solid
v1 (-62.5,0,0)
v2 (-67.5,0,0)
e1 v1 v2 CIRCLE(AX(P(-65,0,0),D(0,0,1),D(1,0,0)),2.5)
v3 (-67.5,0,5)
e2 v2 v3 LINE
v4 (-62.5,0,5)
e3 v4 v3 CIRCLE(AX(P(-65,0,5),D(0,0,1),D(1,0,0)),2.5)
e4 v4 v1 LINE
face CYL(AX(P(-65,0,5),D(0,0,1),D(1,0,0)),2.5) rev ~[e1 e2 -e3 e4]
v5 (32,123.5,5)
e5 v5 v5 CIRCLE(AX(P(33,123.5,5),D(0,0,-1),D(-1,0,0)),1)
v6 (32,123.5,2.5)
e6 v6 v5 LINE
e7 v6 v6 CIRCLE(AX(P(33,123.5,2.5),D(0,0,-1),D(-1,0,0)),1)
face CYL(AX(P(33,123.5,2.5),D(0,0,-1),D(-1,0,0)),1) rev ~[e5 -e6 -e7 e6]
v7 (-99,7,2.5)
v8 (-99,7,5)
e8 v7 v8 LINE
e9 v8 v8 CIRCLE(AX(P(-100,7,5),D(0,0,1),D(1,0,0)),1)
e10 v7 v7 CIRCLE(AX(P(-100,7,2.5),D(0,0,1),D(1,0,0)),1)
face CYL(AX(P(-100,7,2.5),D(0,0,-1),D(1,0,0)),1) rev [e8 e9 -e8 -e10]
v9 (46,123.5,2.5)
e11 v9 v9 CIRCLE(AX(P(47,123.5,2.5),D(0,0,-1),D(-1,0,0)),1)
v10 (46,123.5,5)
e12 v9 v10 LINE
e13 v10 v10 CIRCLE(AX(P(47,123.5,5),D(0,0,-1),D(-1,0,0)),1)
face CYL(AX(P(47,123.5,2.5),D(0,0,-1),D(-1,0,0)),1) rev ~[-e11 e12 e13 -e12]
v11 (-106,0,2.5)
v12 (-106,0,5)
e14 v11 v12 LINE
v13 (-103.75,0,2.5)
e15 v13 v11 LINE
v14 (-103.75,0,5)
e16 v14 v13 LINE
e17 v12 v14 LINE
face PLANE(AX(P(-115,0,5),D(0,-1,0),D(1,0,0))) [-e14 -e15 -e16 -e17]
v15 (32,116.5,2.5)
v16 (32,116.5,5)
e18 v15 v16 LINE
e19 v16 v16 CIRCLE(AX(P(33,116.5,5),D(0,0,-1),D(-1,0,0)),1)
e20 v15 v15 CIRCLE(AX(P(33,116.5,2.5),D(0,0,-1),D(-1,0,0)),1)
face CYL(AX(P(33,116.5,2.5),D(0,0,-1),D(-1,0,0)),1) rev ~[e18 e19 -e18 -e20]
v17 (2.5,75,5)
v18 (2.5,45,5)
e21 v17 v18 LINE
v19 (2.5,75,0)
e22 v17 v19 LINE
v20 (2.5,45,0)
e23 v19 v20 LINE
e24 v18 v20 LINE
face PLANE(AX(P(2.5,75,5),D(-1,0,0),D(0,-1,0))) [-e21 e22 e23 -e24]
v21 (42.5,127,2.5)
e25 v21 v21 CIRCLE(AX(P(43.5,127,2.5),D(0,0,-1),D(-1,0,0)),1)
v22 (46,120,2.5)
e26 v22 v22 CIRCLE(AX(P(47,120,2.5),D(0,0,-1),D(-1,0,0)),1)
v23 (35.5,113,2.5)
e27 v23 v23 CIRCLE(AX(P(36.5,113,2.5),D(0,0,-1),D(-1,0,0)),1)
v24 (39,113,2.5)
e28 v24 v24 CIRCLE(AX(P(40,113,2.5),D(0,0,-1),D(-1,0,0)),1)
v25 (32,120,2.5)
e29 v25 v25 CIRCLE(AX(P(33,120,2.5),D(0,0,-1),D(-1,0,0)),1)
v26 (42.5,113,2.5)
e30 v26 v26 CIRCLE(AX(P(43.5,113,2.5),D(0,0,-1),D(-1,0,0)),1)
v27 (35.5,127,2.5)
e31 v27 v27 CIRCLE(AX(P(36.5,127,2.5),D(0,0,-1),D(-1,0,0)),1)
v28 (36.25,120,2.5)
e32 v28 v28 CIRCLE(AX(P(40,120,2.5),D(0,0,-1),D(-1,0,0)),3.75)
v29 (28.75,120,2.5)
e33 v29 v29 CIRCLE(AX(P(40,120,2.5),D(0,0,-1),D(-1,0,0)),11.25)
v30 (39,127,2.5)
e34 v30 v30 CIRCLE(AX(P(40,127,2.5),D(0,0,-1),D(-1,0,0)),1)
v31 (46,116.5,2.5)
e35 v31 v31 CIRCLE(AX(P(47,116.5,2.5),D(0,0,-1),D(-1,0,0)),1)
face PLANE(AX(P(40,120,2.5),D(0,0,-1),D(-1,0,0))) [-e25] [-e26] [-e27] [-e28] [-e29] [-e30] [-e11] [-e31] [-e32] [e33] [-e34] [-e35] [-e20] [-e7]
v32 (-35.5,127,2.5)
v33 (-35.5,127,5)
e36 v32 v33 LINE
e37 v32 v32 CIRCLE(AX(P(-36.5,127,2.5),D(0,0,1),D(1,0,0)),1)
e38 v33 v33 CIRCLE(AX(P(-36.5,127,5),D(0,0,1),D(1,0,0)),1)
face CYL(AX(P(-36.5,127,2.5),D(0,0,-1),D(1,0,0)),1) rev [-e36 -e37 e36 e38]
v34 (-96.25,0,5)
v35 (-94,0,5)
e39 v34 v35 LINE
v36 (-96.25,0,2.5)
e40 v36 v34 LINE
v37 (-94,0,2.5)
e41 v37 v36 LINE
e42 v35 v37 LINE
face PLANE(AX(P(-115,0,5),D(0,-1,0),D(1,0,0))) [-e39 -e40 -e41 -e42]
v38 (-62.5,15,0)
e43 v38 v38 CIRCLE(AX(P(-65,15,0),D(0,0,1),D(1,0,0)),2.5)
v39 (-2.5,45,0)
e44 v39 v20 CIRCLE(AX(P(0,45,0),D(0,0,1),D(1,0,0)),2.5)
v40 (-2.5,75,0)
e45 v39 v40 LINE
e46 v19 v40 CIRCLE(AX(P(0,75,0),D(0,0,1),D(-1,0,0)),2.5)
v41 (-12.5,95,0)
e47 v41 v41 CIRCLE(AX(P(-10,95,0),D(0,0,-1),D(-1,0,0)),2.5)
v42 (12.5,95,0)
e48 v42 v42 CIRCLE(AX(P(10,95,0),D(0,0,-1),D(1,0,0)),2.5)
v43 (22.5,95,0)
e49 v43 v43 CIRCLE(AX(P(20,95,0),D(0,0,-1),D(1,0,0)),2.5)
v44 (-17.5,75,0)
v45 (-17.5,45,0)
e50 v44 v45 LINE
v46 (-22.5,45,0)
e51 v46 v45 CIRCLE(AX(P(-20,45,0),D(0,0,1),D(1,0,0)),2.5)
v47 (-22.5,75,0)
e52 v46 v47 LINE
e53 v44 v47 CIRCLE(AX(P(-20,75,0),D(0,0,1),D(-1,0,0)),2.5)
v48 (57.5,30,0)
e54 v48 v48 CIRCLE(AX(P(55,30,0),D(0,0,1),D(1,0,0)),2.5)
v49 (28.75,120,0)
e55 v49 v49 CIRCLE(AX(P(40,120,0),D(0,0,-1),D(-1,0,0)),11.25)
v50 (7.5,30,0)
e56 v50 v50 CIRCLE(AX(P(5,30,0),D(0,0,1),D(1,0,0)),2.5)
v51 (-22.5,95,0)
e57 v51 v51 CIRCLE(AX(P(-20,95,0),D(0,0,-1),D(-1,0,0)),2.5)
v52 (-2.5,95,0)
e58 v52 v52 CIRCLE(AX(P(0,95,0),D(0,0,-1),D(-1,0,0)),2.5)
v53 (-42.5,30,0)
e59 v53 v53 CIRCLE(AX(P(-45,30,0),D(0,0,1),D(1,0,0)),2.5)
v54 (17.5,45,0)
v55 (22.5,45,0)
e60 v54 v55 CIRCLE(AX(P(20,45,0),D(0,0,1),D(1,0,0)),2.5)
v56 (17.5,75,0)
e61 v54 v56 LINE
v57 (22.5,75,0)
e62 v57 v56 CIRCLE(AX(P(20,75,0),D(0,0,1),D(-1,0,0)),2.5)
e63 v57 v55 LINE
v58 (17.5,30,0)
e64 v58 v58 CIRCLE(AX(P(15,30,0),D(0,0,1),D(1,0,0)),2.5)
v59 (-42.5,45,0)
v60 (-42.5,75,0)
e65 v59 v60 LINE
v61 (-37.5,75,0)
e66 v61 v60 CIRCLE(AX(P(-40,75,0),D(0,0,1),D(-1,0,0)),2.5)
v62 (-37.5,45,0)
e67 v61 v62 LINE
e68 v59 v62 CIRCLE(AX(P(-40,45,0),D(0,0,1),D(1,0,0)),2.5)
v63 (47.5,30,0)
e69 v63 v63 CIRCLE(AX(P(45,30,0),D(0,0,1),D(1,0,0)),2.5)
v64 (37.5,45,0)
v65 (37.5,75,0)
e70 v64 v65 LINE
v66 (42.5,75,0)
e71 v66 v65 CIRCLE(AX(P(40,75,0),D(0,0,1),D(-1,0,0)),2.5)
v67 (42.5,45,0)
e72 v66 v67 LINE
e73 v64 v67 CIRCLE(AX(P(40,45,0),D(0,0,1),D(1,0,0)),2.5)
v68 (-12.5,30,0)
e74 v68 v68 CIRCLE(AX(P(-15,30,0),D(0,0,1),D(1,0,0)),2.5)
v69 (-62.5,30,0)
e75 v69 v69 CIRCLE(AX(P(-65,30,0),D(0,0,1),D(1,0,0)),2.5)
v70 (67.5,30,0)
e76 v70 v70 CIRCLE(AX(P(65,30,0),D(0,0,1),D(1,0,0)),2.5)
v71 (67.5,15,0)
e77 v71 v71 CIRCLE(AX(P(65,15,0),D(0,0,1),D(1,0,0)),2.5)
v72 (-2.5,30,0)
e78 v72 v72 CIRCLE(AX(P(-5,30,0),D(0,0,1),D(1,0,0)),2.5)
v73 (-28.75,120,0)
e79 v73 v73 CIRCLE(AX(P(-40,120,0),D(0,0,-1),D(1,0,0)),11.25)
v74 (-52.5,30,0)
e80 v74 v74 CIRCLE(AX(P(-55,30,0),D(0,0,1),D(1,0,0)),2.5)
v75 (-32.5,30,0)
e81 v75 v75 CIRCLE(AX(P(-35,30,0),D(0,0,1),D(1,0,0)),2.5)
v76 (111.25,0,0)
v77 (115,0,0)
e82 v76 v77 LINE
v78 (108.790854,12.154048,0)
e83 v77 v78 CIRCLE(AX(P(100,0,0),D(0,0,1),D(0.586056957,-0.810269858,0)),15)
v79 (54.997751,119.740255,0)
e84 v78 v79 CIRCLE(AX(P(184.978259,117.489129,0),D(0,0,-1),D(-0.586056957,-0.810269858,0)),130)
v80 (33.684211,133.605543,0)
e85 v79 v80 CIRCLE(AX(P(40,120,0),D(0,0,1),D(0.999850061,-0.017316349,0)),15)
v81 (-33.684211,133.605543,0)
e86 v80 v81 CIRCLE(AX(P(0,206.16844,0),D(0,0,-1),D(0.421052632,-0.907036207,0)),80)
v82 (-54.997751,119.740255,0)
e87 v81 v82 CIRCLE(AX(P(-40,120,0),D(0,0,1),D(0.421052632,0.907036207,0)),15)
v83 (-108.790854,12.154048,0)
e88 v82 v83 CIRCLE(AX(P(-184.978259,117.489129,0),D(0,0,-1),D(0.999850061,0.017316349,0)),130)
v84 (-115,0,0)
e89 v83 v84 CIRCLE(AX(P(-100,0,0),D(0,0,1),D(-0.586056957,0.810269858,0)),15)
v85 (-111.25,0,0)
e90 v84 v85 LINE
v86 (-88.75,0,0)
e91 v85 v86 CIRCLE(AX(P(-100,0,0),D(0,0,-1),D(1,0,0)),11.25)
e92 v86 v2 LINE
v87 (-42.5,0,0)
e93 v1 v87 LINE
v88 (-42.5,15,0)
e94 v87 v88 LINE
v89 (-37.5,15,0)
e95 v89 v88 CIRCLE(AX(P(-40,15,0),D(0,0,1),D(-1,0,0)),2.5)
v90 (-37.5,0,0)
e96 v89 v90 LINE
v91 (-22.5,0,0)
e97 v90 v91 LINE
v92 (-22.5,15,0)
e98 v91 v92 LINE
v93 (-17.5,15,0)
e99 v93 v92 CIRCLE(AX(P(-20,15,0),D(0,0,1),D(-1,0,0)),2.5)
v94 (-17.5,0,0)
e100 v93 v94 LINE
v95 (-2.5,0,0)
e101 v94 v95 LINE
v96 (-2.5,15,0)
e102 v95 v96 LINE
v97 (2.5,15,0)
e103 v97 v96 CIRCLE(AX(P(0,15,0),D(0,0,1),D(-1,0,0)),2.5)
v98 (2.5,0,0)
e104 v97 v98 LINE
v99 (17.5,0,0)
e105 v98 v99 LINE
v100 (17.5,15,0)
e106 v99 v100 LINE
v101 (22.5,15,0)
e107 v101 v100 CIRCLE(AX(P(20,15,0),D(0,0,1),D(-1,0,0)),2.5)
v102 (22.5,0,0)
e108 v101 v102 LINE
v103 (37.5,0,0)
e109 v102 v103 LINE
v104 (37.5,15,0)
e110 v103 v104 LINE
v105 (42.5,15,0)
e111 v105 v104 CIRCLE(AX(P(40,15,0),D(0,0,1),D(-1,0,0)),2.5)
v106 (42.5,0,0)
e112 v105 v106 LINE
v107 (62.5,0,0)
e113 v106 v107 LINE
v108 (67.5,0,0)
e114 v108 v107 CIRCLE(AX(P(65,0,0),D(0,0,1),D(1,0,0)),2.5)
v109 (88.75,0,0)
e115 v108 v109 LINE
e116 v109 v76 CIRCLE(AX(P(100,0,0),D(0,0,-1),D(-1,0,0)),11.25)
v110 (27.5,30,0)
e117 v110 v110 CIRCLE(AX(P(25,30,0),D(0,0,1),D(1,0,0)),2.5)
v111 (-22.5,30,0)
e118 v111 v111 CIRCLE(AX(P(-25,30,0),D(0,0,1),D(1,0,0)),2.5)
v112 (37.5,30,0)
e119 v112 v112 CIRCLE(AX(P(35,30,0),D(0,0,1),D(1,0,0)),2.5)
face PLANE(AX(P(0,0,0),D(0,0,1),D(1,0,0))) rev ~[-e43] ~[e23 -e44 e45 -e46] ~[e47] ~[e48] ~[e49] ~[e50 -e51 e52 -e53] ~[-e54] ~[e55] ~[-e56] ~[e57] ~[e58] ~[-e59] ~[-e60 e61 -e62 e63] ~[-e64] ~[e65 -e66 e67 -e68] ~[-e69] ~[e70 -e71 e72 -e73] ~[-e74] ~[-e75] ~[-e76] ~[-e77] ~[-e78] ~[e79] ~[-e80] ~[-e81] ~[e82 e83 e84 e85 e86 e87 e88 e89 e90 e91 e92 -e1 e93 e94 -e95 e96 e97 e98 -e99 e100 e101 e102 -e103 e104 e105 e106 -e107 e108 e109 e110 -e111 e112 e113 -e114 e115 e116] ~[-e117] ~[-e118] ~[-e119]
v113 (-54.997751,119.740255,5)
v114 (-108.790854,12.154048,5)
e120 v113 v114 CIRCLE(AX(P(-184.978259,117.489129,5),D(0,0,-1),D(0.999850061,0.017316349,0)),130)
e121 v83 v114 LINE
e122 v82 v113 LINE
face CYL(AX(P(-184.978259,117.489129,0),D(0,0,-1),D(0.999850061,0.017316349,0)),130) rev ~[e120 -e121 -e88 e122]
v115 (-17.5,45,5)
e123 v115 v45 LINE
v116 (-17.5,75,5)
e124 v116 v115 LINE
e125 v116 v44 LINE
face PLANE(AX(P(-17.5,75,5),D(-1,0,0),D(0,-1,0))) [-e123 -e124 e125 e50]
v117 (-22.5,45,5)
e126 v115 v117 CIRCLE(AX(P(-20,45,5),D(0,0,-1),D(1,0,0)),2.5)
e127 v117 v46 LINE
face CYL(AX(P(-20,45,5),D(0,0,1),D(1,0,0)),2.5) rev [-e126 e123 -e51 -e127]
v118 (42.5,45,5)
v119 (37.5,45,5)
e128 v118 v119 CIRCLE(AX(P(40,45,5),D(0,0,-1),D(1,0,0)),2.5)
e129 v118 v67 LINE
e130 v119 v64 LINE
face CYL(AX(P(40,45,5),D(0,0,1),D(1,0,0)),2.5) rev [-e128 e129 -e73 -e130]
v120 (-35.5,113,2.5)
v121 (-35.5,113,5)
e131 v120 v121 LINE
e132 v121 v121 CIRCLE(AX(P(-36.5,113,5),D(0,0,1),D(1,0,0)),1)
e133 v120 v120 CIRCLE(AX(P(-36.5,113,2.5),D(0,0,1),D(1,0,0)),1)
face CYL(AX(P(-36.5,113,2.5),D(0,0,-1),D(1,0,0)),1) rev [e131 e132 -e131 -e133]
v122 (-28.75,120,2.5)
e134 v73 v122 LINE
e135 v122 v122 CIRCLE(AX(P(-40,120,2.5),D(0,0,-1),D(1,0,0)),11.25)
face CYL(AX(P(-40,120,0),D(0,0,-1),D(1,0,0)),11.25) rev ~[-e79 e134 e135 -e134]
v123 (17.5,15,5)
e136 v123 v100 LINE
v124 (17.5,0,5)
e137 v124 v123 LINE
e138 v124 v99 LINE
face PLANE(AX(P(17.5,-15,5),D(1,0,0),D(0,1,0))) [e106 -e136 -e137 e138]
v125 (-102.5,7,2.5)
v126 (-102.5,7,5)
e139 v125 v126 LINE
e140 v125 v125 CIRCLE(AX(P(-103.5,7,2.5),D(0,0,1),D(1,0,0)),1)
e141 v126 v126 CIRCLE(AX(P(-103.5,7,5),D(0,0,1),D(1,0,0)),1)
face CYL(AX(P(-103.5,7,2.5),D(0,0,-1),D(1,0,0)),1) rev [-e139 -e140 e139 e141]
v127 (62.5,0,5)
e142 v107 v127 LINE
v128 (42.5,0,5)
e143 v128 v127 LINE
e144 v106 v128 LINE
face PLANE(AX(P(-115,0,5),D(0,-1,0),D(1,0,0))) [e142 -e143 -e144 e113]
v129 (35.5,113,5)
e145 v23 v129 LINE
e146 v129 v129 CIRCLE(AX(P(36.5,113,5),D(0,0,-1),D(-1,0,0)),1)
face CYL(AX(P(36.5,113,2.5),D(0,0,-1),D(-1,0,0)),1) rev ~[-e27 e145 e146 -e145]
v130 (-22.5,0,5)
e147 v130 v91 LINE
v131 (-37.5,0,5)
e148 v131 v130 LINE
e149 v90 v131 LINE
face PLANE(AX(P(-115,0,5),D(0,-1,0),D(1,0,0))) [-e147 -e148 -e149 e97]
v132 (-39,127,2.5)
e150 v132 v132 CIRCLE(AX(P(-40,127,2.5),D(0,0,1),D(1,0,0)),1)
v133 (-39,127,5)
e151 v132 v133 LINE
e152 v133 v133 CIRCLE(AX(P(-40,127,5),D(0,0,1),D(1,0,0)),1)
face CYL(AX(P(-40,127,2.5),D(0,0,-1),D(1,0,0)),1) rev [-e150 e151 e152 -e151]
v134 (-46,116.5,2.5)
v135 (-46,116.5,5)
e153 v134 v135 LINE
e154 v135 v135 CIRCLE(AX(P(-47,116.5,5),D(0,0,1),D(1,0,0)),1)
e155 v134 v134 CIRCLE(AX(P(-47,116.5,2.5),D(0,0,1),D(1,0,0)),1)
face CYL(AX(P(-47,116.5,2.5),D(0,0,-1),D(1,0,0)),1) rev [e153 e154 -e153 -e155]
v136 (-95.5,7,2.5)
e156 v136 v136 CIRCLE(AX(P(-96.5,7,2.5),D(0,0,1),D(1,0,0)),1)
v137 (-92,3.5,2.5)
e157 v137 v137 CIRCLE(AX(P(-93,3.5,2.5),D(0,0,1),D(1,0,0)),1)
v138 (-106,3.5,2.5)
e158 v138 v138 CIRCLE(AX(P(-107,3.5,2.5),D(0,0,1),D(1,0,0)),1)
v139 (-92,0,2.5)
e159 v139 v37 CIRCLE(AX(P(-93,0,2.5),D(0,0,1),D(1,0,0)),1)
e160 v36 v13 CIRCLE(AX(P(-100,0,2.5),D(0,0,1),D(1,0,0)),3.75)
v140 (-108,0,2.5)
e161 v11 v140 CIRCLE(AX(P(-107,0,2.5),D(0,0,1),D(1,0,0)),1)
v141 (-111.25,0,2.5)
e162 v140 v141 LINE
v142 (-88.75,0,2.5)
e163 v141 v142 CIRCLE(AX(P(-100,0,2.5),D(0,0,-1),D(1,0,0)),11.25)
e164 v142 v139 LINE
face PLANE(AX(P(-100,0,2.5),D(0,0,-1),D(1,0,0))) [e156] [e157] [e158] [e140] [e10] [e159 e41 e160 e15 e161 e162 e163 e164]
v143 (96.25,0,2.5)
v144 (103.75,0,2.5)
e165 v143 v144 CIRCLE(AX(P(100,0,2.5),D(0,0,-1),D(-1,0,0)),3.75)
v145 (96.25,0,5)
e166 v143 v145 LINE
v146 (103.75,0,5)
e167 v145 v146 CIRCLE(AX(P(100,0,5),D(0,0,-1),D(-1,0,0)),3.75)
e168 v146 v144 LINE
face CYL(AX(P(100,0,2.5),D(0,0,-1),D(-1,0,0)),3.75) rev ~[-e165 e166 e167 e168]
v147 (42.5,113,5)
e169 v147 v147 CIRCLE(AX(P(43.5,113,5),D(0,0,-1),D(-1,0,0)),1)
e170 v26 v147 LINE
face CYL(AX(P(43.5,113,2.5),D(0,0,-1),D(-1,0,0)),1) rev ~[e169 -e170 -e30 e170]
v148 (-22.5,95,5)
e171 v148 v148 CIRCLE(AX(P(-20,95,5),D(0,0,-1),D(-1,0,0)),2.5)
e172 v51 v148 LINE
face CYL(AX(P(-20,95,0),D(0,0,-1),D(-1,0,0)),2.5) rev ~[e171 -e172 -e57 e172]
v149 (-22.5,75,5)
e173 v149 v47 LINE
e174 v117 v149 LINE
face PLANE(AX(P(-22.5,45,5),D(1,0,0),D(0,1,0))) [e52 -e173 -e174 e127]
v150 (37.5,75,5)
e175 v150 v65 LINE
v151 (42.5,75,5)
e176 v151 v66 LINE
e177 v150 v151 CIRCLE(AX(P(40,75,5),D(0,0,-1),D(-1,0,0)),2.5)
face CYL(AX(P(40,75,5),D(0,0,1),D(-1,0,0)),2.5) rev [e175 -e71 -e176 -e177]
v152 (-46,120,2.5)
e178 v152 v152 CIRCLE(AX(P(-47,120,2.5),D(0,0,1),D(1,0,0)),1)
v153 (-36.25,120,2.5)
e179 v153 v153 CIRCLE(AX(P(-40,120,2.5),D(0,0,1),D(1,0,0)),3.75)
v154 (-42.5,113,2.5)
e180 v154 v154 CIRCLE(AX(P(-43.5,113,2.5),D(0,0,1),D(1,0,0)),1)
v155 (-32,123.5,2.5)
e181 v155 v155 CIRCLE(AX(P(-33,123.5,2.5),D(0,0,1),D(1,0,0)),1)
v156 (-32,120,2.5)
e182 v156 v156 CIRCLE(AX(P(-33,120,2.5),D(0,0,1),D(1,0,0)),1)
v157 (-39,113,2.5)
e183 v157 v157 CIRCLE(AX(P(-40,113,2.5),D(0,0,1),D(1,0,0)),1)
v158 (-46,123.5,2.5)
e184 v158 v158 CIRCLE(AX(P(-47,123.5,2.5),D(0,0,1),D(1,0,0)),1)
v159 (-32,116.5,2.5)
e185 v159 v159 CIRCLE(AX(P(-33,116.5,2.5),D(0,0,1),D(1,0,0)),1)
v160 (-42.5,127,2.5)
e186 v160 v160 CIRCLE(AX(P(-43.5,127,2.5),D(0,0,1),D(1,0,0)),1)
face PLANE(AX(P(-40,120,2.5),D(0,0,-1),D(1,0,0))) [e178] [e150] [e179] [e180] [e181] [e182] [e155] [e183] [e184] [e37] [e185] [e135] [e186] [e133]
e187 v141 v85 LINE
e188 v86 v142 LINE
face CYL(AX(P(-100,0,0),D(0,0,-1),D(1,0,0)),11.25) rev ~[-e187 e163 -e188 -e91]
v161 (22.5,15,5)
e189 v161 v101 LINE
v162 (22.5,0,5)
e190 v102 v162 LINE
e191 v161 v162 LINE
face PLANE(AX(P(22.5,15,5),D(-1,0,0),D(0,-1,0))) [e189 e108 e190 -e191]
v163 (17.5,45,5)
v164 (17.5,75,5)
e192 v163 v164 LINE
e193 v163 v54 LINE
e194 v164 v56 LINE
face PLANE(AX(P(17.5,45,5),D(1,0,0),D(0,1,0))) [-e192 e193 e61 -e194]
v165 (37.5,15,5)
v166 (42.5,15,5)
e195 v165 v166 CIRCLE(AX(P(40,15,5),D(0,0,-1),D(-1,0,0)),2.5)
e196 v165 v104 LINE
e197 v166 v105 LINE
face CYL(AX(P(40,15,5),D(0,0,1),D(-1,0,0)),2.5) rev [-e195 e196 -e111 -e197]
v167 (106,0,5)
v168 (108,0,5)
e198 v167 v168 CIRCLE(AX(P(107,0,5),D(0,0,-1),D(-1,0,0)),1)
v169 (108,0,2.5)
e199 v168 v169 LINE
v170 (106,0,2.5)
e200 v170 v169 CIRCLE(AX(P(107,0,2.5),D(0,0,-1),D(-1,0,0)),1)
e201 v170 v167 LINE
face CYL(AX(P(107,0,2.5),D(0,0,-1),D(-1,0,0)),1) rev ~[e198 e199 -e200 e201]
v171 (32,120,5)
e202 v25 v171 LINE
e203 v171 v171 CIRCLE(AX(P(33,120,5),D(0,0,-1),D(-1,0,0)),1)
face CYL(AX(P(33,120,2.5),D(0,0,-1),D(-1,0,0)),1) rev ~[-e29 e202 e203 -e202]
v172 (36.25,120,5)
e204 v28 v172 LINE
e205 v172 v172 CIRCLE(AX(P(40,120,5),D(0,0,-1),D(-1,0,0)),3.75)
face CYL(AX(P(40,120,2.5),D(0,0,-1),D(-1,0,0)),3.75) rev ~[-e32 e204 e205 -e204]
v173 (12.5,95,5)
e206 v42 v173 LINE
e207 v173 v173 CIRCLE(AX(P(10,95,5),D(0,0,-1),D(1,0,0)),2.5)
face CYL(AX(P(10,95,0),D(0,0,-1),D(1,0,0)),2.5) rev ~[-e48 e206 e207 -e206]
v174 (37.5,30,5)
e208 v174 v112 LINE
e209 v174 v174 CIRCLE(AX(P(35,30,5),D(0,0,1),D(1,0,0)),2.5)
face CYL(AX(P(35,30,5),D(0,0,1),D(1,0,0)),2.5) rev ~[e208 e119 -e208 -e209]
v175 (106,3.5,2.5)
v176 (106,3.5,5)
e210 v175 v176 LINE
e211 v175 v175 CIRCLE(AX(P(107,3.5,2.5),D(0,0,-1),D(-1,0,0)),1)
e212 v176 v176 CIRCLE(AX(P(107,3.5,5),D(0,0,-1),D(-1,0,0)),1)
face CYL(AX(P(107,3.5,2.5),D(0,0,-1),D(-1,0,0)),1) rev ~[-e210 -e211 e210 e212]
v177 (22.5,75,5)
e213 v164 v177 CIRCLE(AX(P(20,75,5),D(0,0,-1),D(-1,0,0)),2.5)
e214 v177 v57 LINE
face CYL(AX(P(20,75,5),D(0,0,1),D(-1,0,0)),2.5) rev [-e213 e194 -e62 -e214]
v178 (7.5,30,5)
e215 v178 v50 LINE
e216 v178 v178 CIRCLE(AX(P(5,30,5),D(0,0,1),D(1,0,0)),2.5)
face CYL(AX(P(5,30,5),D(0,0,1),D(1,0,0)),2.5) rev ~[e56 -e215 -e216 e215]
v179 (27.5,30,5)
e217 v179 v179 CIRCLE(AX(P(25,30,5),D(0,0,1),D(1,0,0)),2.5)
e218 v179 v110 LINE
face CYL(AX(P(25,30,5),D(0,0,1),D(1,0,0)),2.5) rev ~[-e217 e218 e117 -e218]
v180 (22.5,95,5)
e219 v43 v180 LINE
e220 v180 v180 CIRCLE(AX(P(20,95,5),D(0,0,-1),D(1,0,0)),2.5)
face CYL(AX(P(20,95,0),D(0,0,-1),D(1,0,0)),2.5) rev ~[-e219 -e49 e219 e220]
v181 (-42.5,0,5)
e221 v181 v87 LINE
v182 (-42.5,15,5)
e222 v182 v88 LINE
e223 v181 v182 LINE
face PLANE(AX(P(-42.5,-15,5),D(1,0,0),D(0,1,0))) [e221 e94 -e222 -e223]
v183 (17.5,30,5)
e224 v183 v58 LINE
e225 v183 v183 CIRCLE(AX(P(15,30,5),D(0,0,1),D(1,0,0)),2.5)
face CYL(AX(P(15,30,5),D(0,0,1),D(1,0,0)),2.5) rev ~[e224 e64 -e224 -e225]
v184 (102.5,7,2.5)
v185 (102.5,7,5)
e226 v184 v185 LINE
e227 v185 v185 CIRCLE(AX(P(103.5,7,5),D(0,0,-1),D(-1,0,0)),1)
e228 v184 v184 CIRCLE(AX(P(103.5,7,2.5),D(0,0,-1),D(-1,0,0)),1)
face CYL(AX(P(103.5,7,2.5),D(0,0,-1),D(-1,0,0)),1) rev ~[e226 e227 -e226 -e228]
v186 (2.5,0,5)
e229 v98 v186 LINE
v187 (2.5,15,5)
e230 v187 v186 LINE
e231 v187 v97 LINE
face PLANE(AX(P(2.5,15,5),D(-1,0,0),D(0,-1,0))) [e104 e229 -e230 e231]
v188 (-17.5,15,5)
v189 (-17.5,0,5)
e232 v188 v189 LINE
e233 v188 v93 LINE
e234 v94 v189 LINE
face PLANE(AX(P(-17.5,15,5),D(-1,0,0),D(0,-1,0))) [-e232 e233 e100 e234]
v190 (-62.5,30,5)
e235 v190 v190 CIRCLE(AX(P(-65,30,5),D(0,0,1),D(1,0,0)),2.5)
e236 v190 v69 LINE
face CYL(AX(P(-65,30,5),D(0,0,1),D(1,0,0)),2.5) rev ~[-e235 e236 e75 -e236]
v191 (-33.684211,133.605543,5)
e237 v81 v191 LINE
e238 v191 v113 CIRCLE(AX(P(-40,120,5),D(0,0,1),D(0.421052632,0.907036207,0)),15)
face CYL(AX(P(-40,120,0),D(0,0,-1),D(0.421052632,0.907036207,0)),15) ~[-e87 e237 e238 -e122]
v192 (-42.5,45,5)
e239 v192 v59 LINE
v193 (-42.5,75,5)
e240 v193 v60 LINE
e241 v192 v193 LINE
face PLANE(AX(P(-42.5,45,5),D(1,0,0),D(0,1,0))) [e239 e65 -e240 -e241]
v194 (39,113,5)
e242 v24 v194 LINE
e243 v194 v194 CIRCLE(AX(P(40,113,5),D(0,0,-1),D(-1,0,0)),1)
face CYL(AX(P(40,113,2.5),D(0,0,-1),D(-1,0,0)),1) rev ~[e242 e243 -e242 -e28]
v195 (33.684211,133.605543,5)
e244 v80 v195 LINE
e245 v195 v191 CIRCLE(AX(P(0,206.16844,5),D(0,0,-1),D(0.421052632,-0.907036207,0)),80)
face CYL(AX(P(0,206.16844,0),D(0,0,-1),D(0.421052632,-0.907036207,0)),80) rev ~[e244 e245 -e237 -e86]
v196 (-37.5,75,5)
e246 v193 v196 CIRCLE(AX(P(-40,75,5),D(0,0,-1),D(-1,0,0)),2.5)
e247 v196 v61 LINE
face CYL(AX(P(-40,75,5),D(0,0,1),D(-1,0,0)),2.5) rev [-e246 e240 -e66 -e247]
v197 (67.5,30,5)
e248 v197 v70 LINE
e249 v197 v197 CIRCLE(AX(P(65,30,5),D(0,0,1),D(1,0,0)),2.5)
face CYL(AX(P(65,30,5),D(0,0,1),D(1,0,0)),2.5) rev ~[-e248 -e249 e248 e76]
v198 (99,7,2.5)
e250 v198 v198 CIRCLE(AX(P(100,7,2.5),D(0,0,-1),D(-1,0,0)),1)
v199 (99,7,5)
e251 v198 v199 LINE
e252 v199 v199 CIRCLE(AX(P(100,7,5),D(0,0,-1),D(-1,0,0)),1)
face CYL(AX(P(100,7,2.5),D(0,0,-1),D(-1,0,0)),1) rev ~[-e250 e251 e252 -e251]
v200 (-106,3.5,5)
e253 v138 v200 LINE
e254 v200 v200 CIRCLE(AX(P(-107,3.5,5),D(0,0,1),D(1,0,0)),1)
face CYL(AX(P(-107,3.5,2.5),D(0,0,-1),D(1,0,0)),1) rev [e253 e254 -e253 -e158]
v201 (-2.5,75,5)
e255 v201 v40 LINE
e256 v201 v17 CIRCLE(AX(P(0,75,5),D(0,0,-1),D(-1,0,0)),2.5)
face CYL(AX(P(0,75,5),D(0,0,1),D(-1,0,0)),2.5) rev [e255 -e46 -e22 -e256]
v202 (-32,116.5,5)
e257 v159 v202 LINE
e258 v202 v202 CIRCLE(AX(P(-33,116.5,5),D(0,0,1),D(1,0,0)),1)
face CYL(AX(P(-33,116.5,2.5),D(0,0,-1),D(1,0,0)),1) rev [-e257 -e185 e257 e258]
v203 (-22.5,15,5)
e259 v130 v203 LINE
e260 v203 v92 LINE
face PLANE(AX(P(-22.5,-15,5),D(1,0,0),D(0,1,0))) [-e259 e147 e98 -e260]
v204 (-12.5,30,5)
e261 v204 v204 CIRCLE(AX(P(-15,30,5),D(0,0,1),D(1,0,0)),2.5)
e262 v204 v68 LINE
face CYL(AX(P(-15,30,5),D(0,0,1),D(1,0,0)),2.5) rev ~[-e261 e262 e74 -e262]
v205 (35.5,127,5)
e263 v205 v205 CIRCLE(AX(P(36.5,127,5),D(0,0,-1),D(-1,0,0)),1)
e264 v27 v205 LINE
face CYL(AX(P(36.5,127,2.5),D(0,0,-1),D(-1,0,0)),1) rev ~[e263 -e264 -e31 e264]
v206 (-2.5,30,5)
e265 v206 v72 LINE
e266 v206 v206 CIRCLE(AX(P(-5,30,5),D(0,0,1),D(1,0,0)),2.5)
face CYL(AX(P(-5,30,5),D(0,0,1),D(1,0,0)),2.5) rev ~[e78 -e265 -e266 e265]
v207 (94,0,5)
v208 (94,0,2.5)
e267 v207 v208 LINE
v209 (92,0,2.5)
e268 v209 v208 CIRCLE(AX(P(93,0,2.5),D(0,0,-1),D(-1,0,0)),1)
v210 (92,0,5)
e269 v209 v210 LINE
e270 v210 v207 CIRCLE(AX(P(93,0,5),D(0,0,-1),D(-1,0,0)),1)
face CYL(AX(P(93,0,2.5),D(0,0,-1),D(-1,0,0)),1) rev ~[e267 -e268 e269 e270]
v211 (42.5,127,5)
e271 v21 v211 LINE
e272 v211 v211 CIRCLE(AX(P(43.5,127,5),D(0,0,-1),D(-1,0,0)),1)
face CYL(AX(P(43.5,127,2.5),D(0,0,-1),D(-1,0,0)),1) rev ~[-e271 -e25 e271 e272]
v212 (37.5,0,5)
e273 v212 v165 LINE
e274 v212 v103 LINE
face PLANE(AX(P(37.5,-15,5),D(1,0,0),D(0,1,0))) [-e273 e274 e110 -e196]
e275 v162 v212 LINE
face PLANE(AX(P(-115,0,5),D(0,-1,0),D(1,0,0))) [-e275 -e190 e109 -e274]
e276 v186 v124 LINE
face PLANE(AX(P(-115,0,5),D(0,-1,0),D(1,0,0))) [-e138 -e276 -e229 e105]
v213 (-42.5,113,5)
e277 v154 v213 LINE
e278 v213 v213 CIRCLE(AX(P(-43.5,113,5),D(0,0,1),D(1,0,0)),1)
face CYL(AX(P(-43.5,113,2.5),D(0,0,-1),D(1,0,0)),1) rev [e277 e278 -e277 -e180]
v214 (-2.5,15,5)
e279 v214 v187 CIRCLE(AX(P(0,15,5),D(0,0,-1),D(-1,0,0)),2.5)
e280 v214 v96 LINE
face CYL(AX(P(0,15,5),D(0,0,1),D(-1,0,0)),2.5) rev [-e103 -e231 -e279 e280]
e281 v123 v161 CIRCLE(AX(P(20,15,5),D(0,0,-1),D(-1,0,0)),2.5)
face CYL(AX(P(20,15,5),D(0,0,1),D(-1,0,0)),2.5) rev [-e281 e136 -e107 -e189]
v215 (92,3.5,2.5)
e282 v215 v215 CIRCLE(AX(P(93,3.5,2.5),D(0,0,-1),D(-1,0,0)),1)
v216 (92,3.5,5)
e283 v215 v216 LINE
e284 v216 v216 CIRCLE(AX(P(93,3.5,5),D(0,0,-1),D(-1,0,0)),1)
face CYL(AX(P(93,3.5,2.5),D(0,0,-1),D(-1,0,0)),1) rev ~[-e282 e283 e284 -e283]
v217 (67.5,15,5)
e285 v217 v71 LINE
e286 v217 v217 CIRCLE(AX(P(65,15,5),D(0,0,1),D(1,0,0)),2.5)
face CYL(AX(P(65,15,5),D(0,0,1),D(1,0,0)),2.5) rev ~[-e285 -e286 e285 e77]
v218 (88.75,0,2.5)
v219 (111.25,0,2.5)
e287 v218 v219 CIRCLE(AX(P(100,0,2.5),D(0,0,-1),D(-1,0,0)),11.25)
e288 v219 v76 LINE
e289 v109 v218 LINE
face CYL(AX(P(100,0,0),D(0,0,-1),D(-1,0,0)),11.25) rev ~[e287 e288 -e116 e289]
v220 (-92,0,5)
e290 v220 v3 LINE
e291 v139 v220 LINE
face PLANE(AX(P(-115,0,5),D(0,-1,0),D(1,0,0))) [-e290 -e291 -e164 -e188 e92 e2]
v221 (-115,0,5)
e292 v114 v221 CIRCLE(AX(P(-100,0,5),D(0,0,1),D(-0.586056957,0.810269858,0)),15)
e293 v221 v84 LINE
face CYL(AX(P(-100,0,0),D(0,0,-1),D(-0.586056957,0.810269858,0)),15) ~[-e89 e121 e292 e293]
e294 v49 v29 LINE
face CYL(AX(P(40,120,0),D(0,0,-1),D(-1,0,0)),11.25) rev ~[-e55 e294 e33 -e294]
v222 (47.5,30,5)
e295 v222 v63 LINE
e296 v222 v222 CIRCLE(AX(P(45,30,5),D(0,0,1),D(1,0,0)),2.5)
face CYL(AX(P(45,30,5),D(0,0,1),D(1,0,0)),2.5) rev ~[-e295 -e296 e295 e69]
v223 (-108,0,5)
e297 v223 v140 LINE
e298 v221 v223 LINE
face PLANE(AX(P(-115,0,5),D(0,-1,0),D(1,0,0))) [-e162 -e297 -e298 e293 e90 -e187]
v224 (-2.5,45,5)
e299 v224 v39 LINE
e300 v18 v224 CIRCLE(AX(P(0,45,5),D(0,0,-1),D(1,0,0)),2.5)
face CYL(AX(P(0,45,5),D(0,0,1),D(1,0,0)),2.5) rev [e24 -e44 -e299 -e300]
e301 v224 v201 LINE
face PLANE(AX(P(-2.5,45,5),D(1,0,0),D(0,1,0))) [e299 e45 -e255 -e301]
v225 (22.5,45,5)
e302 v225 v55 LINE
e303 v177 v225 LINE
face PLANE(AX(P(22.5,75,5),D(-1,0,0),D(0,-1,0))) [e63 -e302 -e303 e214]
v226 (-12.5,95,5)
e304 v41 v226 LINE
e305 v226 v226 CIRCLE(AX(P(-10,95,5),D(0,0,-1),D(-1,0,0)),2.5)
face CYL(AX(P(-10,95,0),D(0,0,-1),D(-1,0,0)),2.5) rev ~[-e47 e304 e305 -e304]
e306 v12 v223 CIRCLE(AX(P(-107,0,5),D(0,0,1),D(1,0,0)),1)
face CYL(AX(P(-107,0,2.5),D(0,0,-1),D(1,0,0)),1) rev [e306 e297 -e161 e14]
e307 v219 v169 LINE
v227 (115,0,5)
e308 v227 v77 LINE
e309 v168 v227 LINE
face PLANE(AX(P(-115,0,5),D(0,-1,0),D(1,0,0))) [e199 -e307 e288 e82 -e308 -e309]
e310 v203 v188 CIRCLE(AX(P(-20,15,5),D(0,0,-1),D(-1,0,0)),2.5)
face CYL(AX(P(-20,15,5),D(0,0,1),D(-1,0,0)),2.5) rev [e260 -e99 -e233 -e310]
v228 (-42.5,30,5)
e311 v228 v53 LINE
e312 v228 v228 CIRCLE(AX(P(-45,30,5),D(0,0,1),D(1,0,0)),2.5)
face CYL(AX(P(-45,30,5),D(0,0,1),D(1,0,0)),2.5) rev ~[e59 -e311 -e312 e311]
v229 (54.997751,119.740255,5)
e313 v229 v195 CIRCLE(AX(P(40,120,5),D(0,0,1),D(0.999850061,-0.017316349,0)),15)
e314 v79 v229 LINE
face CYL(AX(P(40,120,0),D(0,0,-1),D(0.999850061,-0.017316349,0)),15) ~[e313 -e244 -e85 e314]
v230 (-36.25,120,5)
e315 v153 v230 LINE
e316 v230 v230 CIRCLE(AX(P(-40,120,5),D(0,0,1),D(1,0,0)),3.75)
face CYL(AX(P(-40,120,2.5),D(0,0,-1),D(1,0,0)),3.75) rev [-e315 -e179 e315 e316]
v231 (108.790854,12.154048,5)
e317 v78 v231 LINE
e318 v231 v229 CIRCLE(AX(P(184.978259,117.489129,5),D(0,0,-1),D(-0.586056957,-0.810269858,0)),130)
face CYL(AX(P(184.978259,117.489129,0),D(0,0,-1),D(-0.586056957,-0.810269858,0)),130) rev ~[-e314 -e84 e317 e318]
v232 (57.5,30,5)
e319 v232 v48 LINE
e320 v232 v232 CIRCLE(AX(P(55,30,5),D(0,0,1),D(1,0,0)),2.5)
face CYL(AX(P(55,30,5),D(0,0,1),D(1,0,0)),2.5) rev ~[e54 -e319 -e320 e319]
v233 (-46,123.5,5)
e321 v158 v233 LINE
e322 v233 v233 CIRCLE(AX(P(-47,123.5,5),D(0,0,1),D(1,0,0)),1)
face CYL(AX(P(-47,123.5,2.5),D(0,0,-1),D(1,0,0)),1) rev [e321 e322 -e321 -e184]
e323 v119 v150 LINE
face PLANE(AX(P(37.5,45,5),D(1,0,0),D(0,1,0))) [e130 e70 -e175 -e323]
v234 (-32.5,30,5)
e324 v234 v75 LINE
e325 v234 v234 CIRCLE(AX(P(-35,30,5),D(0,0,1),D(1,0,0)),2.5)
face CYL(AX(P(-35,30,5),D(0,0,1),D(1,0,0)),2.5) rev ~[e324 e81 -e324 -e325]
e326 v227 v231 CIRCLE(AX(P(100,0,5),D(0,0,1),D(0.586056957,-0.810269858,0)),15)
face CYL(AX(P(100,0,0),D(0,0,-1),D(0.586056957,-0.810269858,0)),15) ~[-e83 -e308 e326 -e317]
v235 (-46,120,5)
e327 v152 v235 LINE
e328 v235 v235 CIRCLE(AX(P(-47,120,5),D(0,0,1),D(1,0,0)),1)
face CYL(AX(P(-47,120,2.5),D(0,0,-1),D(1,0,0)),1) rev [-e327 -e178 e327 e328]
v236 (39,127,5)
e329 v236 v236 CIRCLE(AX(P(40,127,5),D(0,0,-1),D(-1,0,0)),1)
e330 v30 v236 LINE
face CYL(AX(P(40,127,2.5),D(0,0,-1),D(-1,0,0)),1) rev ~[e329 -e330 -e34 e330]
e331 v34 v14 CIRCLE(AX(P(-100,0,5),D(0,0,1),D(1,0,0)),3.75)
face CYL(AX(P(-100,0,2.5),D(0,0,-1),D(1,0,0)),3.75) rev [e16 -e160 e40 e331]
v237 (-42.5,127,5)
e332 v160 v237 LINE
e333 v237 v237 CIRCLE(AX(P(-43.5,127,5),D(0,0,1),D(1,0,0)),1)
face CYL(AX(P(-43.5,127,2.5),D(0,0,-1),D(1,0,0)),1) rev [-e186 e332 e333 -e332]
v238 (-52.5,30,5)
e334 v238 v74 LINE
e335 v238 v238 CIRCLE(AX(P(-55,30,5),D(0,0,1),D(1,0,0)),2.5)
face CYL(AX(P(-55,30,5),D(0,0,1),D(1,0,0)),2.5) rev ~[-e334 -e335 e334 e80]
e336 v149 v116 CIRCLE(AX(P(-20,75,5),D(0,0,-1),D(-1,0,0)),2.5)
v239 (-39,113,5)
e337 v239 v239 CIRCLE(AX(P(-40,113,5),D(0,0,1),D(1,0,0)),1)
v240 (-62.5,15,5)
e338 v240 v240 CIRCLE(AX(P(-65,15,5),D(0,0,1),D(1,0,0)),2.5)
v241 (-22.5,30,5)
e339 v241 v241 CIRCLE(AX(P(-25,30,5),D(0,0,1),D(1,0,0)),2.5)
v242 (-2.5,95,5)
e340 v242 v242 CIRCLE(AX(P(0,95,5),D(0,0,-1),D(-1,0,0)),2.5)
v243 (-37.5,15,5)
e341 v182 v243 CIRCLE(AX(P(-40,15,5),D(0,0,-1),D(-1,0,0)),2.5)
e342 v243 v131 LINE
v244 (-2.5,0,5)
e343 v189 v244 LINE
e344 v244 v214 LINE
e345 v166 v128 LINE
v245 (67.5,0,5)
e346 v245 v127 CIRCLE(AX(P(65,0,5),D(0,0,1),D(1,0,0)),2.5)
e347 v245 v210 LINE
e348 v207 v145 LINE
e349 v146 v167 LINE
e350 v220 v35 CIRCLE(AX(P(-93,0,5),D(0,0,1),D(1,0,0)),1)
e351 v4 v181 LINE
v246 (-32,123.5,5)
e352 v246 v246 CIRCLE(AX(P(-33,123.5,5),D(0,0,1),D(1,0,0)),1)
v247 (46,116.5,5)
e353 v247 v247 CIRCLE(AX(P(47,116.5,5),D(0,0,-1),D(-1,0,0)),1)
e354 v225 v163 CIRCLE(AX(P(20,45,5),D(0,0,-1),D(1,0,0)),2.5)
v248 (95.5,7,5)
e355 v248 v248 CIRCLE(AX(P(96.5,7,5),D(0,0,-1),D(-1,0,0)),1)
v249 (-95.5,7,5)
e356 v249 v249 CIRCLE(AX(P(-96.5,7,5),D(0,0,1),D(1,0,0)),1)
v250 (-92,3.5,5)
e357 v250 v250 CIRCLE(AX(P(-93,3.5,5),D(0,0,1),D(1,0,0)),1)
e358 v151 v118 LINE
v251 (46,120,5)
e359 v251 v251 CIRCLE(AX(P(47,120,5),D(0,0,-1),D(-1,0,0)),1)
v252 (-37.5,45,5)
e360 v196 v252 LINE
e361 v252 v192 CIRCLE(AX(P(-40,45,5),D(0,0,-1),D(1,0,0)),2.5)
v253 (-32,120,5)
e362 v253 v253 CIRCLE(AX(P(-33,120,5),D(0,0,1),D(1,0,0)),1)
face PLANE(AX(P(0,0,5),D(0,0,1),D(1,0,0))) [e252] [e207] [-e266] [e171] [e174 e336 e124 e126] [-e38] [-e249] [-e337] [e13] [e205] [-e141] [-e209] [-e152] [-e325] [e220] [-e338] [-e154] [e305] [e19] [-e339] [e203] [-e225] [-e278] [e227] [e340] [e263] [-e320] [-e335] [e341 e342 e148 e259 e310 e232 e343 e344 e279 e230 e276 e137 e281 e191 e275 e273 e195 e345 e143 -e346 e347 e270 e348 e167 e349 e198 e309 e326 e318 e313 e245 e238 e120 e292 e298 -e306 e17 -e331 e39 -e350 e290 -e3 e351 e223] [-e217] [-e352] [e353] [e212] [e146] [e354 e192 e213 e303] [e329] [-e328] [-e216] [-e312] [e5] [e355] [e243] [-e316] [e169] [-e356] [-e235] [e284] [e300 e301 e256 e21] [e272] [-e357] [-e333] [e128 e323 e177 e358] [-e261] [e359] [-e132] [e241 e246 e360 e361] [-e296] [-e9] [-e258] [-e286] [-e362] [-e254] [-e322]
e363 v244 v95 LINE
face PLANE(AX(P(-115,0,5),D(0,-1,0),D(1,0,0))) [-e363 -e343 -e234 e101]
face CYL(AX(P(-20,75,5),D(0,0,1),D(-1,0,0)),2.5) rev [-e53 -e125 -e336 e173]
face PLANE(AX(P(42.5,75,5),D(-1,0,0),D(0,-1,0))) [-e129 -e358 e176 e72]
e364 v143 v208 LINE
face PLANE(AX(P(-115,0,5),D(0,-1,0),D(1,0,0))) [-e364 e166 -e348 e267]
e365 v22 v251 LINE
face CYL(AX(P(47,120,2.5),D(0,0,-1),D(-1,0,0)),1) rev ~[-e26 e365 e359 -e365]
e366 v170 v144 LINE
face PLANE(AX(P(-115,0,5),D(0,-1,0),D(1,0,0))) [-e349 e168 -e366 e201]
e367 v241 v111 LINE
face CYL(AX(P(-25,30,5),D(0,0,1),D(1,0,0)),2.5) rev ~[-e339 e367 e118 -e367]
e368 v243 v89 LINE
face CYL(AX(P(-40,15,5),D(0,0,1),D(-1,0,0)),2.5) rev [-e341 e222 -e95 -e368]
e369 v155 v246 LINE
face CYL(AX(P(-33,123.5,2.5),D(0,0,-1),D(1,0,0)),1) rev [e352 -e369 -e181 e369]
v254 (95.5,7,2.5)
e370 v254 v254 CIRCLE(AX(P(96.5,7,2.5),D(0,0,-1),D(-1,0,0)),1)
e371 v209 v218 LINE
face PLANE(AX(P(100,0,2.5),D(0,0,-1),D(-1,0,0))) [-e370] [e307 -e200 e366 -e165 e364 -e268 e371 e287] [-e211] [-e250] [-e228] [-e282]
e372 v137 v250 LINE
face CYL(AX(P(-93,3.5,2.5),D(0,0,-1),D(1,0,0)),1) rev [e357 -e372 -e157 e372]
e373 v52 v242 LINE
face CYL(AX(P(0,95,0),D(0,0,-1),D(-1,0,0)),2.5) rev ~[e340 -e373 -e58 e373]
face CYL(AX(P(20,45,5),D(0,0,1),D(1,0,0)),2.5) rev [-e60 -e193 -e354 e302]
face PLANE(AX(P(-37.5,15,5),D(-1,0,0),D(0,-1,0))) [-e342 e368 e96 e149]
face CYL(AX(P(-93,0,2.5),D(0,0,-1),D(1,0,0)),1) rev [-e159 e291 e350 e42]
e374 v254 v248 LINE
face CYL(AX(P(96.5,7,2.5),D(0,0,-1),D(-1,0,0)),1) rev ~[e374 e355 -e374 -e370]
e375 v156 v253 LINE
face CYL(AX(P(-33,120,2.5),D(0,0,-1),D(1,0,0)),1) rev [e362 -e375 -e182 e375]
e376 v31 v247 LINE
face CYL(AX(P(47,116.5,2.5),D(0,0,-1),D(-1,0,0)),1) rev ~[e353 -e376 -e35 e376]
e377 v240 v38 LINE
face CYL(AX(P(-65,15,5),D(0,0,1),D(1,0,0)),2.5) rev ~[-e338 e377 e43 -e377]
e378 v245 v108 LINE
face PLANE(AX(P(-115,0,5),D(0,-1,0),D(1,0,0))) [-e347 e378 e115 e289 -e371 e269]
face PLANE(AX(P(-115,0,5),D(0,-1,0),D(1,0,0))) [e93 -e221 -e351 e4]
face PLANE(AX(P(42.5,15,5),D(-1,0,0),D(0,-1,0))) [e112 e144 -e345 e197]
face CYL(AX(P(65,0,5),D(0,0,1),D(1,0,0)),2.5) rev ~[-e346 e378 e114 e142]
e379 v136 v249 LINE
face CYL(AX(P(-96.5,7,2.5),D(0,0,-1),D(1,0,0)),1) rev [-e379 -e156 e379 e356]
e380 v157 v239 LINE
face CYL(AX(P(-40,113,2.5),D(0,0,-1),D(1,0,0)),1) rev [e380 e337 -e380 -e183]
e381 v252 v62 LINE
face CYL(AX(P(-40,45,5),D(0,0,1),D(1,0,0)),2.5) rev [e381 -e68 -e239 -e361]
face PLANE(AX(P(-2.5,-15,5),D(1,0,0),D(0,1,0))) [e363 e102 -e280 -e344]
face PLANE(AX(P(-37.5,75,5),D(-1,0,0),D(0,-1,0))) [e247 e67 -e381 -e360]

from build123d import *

# Parameters (mm, degrees)
BOSS_EXTRUDE1_DEPTH       = 5
SKETCH2_R                 = 11.25
CUT_EXTRUDE1_DEPTH        = 2.5
SKETCH3_R                 = 1
SKETCH3_R_2               = 3.75
CUT_EXTRUDE2_DEPTH        = 2.5
MIRROR2_COPY_1_SKETCH_R   = 1
MIRROR2_COPY_1_SKETCH_R_2 = 3.75
MIRROR2_COPY_1_DEPTH      = 2.5
SKETCH5_R                 = 2.5
CUT_EXTRUDE4_DEPTH        = 12.5
CUT_EXTRUDE6_DEPTH        = 10
SKETCH9_R                 = 2.5
CUT_EXTRUDE7_DEPTH        = 10
SKETCH10_R                = 2.5
CUT_EXTRUDE8_DEPTH        = 10
SKETCH11_W                = 230
SKETCH11_H                = 135
CUT_EXTRUDE9_DEPTH        = 10


with BuildPart() as part:
    # Sketch1 → Boss-Extrude1 (new body)
    with BuildSketch(Plane.XY):
        with BuildLine():
            ThreePointArc((108.79085436, -12.15404787), (115, 0), (108.79085436, 12.15404787))
            ThreePointArc((108.79085436, 12.15404787), (68.702723984, 59.351361992), (54.997750912, 119.740254766))
            ThreePointArc((54.997750912, 119.740254766), (48.179588548, 132.573556823), (33.684210526, 133.60554311))
            ThreePointArc((33.684210526, 133.60554311), (0, 126.168439698), (-33.684210526, 133.60554311))
            ThreePointArc((-33.684210526, 133.60554311), (-48.179588548, 132.573556823), (-54.997750912, 119.740254766))
            ThreePointArc((-54.997750912, 119.740254766), (-68.702723984, 59.351361992), (-108.79085436, 12.15404787))
            ThreePointArc((-108.79085436, 12.15404787), (-115, 0), (-108.79085436, -12.15404787))
            ThreePointArc((-108.79085436, -12.15404787), (-68.702723984, -59.351361992), (-54.997750912, -119.740254766))
            ThreePointArc((-54.997750912, -119.740254766), (-48.179588548, -132.573556823), (-33.684210526, -133.60554311))
            ThreePointArc((-33.684210526, -133.60554311), (0, -126.168439698), (33.684210526, -133.60554311))
            ThreePointArc((33.684210526, -133.60554311), (48.179588548, -132.573556823), (54.997750912, -119.740254766))
            ThreePointArc((54.997750912, -119.740254766), (68.702723984, -59.351361992), (108.79085436, -12.15404787))
        make_face()
    extrude(amount=BOSS_EXTRUDE1_DEPTH)

    # Sketch2 → Cut-Extrude1 (cut)
    with BuildSketch(Plane(origin=(0, 0, 0), x_dir=(-1, 0, 0), z_dir=(0, 0, -1))):
        with Locations((-40, 120)):
            Circle(SKETCH2_R)
        with Locations((-100, 0)):
            Circle(SKETCH2_R)
        with Locations((100, 0)):
            Circle(SKETCH2_R)
        with Locations((40, 120)):
            Circle(SKETCH2_R)
        with Locations((40, -120)):
            Circle(SKETCH2_R)
        with Locations((-40, -120)):
            Circle(SKETCH2_R)
    extrude(amount=-CUT_EXTRUDE1_DEPTH, mode=Mode.SUBTRACT)

    # Sketch3 → Cut-Extrude2 (cut)
    with BuildSketch(Plane(origin=(0, 0, 2.5), x_dir=(-1, 0, 0), z_dir=(0, 0, -1))):
        with Locations((-47, 123.5)):
            Circle(SKETCH3_R)
        with Locations((-47, 120)):
            Circle(SKETCH3_R)
        with Locations((-47, 116.5)):
            Circle(SKETCH3_R)
        with Locations((-40, 120)):
            Circle(SKETCH3_R_2)
        with Locations((-43.5, 113)):
            Circle(SKETCH3_R)
        with Locations((-40, 113)):
            Circle(SKETCH3_R)
        with Locations((-36.5, 113)):
            Circle(SKETCH3_R)
        with Locations((-33, 116.5)):
            Circle(SKETCH3_R)
        with Locations((-33, 120)):
            Circle(SKETCH3_R)
        with Locations((-33, 123.5)):
            Circle(SKETCH3_R)
        with Locations((-36.5, 127)):
            Circle(SKETCH3_R)
        with Locations((-40, 127)):
            Circle(SKETCH3_R)
        with Locations((-43.5, 127)):
            Circle(SKETCH3_R)
        with Locations((-100, -7)):
            Circle(SKETCH3_R)
        with Locations((-100, 0)):
            Circle(SKETCH3_R_2)
        with Locations((-93, 0)):
            Circle(SKETCH3_R)
        with Locations((-100, 0)):
            Circle(SKETCH3_R_2)
        with Locations((-100, 0)):
            Circle(SKETCH3_R_2)
        with Locations((-107, -3.5)):
            Circle(SKETCH3_R)
        with Locations((-107, 0)):
            Circle(SKETCH3_R)
        with Locations((-107, 3.5)):
            Circle(SKETCH3_R)
        with Locations((-103.5, 7)):
            Circle(SKETCH3_R)
        with Locations((-100, 7)):
            Circle(SKETCH3_R)
        with Locations((-96.5, 7)):
            Circle(SKETCH3_R)
        with Locations((-96.5, -7)):
            Circle(SKETCH3_R)
        with Locations((-103.5, -7)):
            Circle(SKETCH3_R)
        with Locations((-93, -3.5)):
            Circle(SKETCH3_R)
        with Locations((-93, 3.5)):
            Circle(SKETCH3_R)
    cut_extrude2 = extrude(amount=-CUT_EXTRUDE2_DEPTH, mode=Mode.SUBTRACT)

    # Mirror1: Cut-Extrude2 across plane
    add(cut_extrude2.mirror(Plane(origin=(0, 0, 0), x_dir=(0, 0, 1), z_dir=(1, 0, 0))), mode=Mode.SUBTRACT)

    # Mirror2: Cut-Extrude2 across plane
    add(cut_extrude2.mirror(Plane.ZX), mode=Mode.SUBTRACT)

    # Mirror2 copy 1 sketch → Mirror2 copy 1 (cut)
    with BuildSketch(Plane(origin=(0, 0, 2.5), x_dir=(1, 0, 0), z_dir=(0, 0, -1))):
        with Locations((-47, 123.5)):
            Circle(MIRROR2_COPY_1_SKETCH_R)
        with Locations((-47, 120)):
            Circle(MIRROR2_COPY_1_SKETCH_R)
        with Locations((-47, 116.5)):
            Circle(MIRROR2_COPY_1_SKETCH_R)
        with Locations((-40, 120)):
            Circle(MIRROR2_COPY_1_SKETCH_R_2)
        with Locations((-43.5, 113)):
            Circle(MIRROR2_COPY_1_SKETCH_R)
        with Locations((-40, 113)):
            Circle(MIRROR2_COPY_1_SKETCH_R)
        with Locations((-36.5, 113)):
            Circle(MIRROR2_COPY_1_SKETCH_R)
        with Locations((-33, 116.5)):
            Circle(MIRROR2_COPY_1_SKETCH_R)
        with Locations((-33, 120)):
            Circle(MIRROR2_COPY_1_SKETCH_R)
        with Locations((-33, 123.5)):
            Circle(MIRROR2_COPY_1_SKETCH_R)
        with Locations((-36.5, 127)):
            Circle(MIRROR2_COPY_1_SKETCH_R)
        with Locations((-40, 127)):
            Circle(MIRROR2_COPY_1_SKETCH_R)
        with Locations((-43.5, 127)):
            Circle(MIRROR2_COPY_1_SKETCH_R)
        with Locations((-100, -7)):
            Circle(MIRROR2_COPY_1_SKETCH_R)
        with Locations((-100, 0)):
            Circle(MIRROR2_COPY_1_SKETCH_R_2)
        with Locations((-93, 0)):
            Circle(MIRROR2_COPY_1_SKETCH_R)
        with Locations((-100, 0)):
            Circle(MIRROR2_COPY_1_SKETCH_R_2)
        with Locations((-100, 0)):
            Circle(MIRROR2_COPY_1_SKETCH_R_2)
        with Locations((-107, -3.5)):
            Circle(MIRROR2_COPY_1_SKETCH_R)
        with Locations((-107, 0)):
            Circle(MIRROR2_COPY_1_SKETCH_R)
        with Locations((-107, 3.5)):
            Circle(MIRROR2_COPY_1_SKETCH_R)
        with Locations((-103.5, 7)):
            Circle(MIRROR2_COPY_1_SKETCH_R)
        with Locations((-100, 7)):
            Circle(MIRROR2_COPY_1_SKETCH_R)
        with Locations((-96.5, 7)):
            Circle(MIRROR2_COPY_1_SKETCH_R)
        with Locations((-96.5, -7)):
            Circle(MIRROR2_COPY_1_SKETCH_R)
        with Locations((-103.5, -7)):
            Circle(MIRROR2_COPY_1_SKETCH_R)
        with Locations((-93, -3.5)):
            Circle(MIRROR2_COPY_1_SKETCH_R)
        with Locations((-93, 3.5)):
            Circle(MIRROR2_COPY_1_SKETCH_R)
    extrude(amount=-MIRROR2_COPY_1_DEPTH, mode=Mode.SUBTRACT)

    # Sketch5 → Cut-Extrude4 (cut)
    with BuildSketch(Plane(origin=(0, 0, 0), x_dir=(-1, 0, 0), z_dir=(0, 0, -1))):
        with Locations((20, 95)):
            Circle(SKETCH5_R)
        with Locations((0, 95)):
            Circle(SKETCH5_R)
        with Locations((10, 95)):
            Circle(SKETCH5_R)
        with Locations((10, -95)):
            Circle(SKETCH5_R)
        with Locations((0, -95)):
            Circle(SKETCH5_R)
        with Locations((20, -95)):
            Circle(SKETCH5_R)
        with Locations((-20, 95)):
            Circle(SKETCH5_R)
        with Locations((-10, 95)):
            Circle(SKETCH5_R)
        with Locations((-20, -95)):
            Circle(SKETCH5_R)
        with Locations((-10, -95)):
            Circle(SKETCH5_R)
    extrude(amount=-CUT_EXTRUDE4_DEPTH, mode=Mode.SUBTRACT)

    # Sketch8 → Cut-Extrude6 (cut)
    with BuildSketch(Plane.XY.offset(5)):
        with BuildLine():
            Line((42.5, 75), (42.5, 45))
            ThreePointArc((42.5, 45), (40, 42.5), (37.5, 45))
            Line((37.5, 45), (37.5, 75))
            ThreePointArc((37.5, 75), (40, 77.5), (42.5, 75))
        make_face()
        with BuildLine():
            Line((22.5, 75), (22.5, 45))
            ThreePointArc((22.5, 45), (20, 42.5), (17.5, 45))
            Line((17.5, 45), (17.5, 75))
            ThreePointArc((17.5, 75), (20, 77.5), (22.5, 75))
        make_face()
        with BuildLine():
            Line((2.5, 75), (2.5, 45))
            ThreePointArc((2.5, 45), (0, 42.5), (-2.5, 45))
            Line((-2.5, 45), (-2.5, 75))
            ThreePointArc((-2.5, 75), (0, 77.5), (2.5, 75))
        make_face()
        with BuildLine():
            Line((-17.5, 75), (-17.5, 45))
            ThreePointArc((-17.5, 45), (-20, 42.5), (-22.5, 45))
            Line((-22.5, 45), (-22.5, 75))
            ThreePointArc((-22.5, 75), (-20, 77.5), (-17.5, 75))
        make_face()
        with BuildLine():
            Line((-37.5, 75), (-37.5, 45))
            ThreePointArc((-37.5, 45), (-40, 42.5), (-42.5, 45))
            Line((-42.5, 45), (-42.5, 75))
            ThreePointArc((-42.5, 75), (-40, 77.5), (-37.5, 75))
        make_face()
        with BuildLine():
            Line((42.5, 15), (42.5, -15))
            ThreePointArc((42.5, -15), (40, -17.5), (37.5, -15))
            Line((37.5, -15), (37.5, 15))
            ThreePointArc((37.5, 15), (40, 17.5), (42.5, 15))
        make_face()
        with BuildLine():
            Line((22.5, 15), (22.5, -15))
            ThreePointArc((22.5, -15), (20, -17.5), (17.5, -15))
            Line((17.5, -15), (17.5, 15))
            ThreePointArc((17.5, 15), (20, 17.5), (22.5, 15))
        make_face()
        with BuildLine():
            Line((2.5, 15), (2.5, -15))
            ThreePointArc((2.5, -15), (0, -17.5), (-2.5, -15))
            Line((-2.5, -15), (-2.5, 15))
            ThreePointArc((-2.5, 15), (0, 17.5), (2.5, 15))
        make_face()
        with BuildLine():
            Line((-17.5, 15), (-17.5, -15))
            ThreePointArc((-17.5, -15), (-20, -17.5), (-22.5, -15))
            Line((-22.5, -15), (-22.5, 15))
            ThreePointArc((-22.5, 15), (-20, 17.5), (-17.5, 15))
        make_face()
        with BuildLine():
            Line((-37.5, 15), (-37.5, -15))
            ThreePointArc((-37.5, -15), (-40, -17.5), (-42.5, -15))
            Line((-42.5, -15), (-42.5, 15))
            ThreePointArc((-42.5, 15), (-40, 17.5), (-37.5, 15))
        make_face()
        with BuildLine():
            Line((42.5, -45), (42.5, -75))
            ThreePointArc((42.5, -75), (40, -77.5), (37.5, -75))
            Line((37.5, -75), (37.5, -45))
            ThreePointArc((37.5, -45), (40, -42.5), (42.5, -45))
        make_face()
        with BuildLine():
            Line((22.5, -45), (22.5, -75))
            ThreePointArc((22.5, -75), (20, -77.5), (17.5, -75))
            Line((17.5, -75), (17.5, -45))
            ThreePointArc((17.5, -45), (20, -42.5), (22.5, -45))
        make_face()
        with BuildLine():
            Line((2.5, -45), (2.5, -75))
            ThreePointArc((2.5, -75), (0, -77.5), (-2.5, -75))
            Line((-2.5, -75), (-2.5, -45))
            ThreePointArc((-2.5, -45), (0, -42.5), (2.5, -45))
        make_face()
        with BuildLine():
            Line((-17.5, -45), (-17.5, -75))
            ThreePointArc((-17.5, -75), (-20, -77.5), (-22.5, -75))
            Line((-22.5, -75), (-22.5, -45))
            ThreePointArc((-22.5, -45), (-20, -42.5), (-17.5, -45))
        make_face()
        with BuildLine():
            Line((-37.5, -45), (-37.5, -75))
            ThreePointArc((-37.5, -75), (-40, -77.5), (-42.5, -75))
            Line((-42.5, -75), (-42.5, -45))
            ThreePointArc((-42.5, -45), (-40, -42.5), (-37.5, -45))
        make_face()
    extrude(amount=-CUT_EXTRUDE6_DEPTH, mode=Mode.SUBTRACT)

    # Sketch9 → Cut-Extrude7 (cut)
    with BuildSketch(Plane.XY.offset(5)):
        with Locations((-65, 30)):
            Circle(SKETCH9_R)
        with Locations((-55, 30)):
            Circle(SKETCH9_R)
        with Locations((-45, 30)):
            Circle(SKETCH9_R)
        with Locations((-35, 30)):
            Circle(SKETCH9_R)
        with Locations((-25, 30)):
            Circle(SKETCH9_R)
        with Locations((-15, 30)):
            Circle(SKETCH9_R)
        with Locations((-5, 30)):
            Circle(SKETCH9_R)
        with Locations((5, 30)):
            Circle(SKETCH9_R)
        with Locations((15, 30)):
            Circle(SKETCH9_R)
        with Locations((25, 30)):
            Circle(SKETCH9_R)
        with Locations((35, 30)):
            Circle(SKETCH9_R)
        with Locations((45, 30)):
            Circle(SKETCH9_R)
        with Locations((55, 30)):
            Circle(SKETCH9_R)
        with Locations((65, 30)):
            Circle(SKETCH9_R)
        with Locations((65, -30)):
            Circle(SKETCH9_R)
        with Locations((55, -30)):
            Circle(SKETCH9_R)
        with Locations((45, -30)):
            Circle(SKETCH9_R)
        with Locations((35, -30)):
            Circle(SKETCH9_R)
        with Locations((25, -30)):
            Circle(SKETCH9_R)
        with Locations((15, -30)):
            Circle(SKETCH9_R)
        with Locations((5, -30)):
            Circle(SKETCH9_R)
        with Locations((-5, -30)):
            Circle(SKETCH9_R)
        with Locations((-15, -30)):
            Circle(SKETCH9_R)
        with Locations((-25, -30)):
            Circle(SKETCH9_R)
        with Locations((-35, -30)):
            Circle(SKETCH9_R)
        with Locations((-45, -30)):
            Circle(SKETCH9_R)
        with Locations((-55, -30)):
            Circle(SKETCH9_R)
        with Locations((-65, -30)):
            Circle(SKETCH9_R)
    extrude(amount=-CUT_EXTRUDE7_DEPTH, mode=Mode.SUBTRACT)

    # Sketch10 → Cut-Extrude8 (cut)
    with BuildSketch(Plane.XY.offset(5)):
        with Locations((-65, 0)):
            Circle(SKETCH10_R)
        with Locations((-65, 15)):
            Circle(SKETCH10_R)
        with Locations((-65, -15)):
            Circle(SKETCH10_R)
        with Locations((65, -15)):
            Circle(SKETCH10_R)
        with Locations((65, 0)):
            Circle(SKETCH10_R)
        with Locations((65, 15)):
            Circle(SKETCH10_R)
    extrude(amount=-CUT_EXTRUDE8_DEPTH, mode=Mode.SUBTRACT)

    # Sketch11 → Cut-Extrude9 (cut)
    with BuildSketch(Plane.XY.offset(5)):
        with Locations((0, -67.5)):
            Rectangle(SKETCH11_W, SKETCH11_H)
    extrude(amount=-CUT_EXTRUDE9_DEPTH, mode=Mode.SUBTRACT)


solid = part.part
